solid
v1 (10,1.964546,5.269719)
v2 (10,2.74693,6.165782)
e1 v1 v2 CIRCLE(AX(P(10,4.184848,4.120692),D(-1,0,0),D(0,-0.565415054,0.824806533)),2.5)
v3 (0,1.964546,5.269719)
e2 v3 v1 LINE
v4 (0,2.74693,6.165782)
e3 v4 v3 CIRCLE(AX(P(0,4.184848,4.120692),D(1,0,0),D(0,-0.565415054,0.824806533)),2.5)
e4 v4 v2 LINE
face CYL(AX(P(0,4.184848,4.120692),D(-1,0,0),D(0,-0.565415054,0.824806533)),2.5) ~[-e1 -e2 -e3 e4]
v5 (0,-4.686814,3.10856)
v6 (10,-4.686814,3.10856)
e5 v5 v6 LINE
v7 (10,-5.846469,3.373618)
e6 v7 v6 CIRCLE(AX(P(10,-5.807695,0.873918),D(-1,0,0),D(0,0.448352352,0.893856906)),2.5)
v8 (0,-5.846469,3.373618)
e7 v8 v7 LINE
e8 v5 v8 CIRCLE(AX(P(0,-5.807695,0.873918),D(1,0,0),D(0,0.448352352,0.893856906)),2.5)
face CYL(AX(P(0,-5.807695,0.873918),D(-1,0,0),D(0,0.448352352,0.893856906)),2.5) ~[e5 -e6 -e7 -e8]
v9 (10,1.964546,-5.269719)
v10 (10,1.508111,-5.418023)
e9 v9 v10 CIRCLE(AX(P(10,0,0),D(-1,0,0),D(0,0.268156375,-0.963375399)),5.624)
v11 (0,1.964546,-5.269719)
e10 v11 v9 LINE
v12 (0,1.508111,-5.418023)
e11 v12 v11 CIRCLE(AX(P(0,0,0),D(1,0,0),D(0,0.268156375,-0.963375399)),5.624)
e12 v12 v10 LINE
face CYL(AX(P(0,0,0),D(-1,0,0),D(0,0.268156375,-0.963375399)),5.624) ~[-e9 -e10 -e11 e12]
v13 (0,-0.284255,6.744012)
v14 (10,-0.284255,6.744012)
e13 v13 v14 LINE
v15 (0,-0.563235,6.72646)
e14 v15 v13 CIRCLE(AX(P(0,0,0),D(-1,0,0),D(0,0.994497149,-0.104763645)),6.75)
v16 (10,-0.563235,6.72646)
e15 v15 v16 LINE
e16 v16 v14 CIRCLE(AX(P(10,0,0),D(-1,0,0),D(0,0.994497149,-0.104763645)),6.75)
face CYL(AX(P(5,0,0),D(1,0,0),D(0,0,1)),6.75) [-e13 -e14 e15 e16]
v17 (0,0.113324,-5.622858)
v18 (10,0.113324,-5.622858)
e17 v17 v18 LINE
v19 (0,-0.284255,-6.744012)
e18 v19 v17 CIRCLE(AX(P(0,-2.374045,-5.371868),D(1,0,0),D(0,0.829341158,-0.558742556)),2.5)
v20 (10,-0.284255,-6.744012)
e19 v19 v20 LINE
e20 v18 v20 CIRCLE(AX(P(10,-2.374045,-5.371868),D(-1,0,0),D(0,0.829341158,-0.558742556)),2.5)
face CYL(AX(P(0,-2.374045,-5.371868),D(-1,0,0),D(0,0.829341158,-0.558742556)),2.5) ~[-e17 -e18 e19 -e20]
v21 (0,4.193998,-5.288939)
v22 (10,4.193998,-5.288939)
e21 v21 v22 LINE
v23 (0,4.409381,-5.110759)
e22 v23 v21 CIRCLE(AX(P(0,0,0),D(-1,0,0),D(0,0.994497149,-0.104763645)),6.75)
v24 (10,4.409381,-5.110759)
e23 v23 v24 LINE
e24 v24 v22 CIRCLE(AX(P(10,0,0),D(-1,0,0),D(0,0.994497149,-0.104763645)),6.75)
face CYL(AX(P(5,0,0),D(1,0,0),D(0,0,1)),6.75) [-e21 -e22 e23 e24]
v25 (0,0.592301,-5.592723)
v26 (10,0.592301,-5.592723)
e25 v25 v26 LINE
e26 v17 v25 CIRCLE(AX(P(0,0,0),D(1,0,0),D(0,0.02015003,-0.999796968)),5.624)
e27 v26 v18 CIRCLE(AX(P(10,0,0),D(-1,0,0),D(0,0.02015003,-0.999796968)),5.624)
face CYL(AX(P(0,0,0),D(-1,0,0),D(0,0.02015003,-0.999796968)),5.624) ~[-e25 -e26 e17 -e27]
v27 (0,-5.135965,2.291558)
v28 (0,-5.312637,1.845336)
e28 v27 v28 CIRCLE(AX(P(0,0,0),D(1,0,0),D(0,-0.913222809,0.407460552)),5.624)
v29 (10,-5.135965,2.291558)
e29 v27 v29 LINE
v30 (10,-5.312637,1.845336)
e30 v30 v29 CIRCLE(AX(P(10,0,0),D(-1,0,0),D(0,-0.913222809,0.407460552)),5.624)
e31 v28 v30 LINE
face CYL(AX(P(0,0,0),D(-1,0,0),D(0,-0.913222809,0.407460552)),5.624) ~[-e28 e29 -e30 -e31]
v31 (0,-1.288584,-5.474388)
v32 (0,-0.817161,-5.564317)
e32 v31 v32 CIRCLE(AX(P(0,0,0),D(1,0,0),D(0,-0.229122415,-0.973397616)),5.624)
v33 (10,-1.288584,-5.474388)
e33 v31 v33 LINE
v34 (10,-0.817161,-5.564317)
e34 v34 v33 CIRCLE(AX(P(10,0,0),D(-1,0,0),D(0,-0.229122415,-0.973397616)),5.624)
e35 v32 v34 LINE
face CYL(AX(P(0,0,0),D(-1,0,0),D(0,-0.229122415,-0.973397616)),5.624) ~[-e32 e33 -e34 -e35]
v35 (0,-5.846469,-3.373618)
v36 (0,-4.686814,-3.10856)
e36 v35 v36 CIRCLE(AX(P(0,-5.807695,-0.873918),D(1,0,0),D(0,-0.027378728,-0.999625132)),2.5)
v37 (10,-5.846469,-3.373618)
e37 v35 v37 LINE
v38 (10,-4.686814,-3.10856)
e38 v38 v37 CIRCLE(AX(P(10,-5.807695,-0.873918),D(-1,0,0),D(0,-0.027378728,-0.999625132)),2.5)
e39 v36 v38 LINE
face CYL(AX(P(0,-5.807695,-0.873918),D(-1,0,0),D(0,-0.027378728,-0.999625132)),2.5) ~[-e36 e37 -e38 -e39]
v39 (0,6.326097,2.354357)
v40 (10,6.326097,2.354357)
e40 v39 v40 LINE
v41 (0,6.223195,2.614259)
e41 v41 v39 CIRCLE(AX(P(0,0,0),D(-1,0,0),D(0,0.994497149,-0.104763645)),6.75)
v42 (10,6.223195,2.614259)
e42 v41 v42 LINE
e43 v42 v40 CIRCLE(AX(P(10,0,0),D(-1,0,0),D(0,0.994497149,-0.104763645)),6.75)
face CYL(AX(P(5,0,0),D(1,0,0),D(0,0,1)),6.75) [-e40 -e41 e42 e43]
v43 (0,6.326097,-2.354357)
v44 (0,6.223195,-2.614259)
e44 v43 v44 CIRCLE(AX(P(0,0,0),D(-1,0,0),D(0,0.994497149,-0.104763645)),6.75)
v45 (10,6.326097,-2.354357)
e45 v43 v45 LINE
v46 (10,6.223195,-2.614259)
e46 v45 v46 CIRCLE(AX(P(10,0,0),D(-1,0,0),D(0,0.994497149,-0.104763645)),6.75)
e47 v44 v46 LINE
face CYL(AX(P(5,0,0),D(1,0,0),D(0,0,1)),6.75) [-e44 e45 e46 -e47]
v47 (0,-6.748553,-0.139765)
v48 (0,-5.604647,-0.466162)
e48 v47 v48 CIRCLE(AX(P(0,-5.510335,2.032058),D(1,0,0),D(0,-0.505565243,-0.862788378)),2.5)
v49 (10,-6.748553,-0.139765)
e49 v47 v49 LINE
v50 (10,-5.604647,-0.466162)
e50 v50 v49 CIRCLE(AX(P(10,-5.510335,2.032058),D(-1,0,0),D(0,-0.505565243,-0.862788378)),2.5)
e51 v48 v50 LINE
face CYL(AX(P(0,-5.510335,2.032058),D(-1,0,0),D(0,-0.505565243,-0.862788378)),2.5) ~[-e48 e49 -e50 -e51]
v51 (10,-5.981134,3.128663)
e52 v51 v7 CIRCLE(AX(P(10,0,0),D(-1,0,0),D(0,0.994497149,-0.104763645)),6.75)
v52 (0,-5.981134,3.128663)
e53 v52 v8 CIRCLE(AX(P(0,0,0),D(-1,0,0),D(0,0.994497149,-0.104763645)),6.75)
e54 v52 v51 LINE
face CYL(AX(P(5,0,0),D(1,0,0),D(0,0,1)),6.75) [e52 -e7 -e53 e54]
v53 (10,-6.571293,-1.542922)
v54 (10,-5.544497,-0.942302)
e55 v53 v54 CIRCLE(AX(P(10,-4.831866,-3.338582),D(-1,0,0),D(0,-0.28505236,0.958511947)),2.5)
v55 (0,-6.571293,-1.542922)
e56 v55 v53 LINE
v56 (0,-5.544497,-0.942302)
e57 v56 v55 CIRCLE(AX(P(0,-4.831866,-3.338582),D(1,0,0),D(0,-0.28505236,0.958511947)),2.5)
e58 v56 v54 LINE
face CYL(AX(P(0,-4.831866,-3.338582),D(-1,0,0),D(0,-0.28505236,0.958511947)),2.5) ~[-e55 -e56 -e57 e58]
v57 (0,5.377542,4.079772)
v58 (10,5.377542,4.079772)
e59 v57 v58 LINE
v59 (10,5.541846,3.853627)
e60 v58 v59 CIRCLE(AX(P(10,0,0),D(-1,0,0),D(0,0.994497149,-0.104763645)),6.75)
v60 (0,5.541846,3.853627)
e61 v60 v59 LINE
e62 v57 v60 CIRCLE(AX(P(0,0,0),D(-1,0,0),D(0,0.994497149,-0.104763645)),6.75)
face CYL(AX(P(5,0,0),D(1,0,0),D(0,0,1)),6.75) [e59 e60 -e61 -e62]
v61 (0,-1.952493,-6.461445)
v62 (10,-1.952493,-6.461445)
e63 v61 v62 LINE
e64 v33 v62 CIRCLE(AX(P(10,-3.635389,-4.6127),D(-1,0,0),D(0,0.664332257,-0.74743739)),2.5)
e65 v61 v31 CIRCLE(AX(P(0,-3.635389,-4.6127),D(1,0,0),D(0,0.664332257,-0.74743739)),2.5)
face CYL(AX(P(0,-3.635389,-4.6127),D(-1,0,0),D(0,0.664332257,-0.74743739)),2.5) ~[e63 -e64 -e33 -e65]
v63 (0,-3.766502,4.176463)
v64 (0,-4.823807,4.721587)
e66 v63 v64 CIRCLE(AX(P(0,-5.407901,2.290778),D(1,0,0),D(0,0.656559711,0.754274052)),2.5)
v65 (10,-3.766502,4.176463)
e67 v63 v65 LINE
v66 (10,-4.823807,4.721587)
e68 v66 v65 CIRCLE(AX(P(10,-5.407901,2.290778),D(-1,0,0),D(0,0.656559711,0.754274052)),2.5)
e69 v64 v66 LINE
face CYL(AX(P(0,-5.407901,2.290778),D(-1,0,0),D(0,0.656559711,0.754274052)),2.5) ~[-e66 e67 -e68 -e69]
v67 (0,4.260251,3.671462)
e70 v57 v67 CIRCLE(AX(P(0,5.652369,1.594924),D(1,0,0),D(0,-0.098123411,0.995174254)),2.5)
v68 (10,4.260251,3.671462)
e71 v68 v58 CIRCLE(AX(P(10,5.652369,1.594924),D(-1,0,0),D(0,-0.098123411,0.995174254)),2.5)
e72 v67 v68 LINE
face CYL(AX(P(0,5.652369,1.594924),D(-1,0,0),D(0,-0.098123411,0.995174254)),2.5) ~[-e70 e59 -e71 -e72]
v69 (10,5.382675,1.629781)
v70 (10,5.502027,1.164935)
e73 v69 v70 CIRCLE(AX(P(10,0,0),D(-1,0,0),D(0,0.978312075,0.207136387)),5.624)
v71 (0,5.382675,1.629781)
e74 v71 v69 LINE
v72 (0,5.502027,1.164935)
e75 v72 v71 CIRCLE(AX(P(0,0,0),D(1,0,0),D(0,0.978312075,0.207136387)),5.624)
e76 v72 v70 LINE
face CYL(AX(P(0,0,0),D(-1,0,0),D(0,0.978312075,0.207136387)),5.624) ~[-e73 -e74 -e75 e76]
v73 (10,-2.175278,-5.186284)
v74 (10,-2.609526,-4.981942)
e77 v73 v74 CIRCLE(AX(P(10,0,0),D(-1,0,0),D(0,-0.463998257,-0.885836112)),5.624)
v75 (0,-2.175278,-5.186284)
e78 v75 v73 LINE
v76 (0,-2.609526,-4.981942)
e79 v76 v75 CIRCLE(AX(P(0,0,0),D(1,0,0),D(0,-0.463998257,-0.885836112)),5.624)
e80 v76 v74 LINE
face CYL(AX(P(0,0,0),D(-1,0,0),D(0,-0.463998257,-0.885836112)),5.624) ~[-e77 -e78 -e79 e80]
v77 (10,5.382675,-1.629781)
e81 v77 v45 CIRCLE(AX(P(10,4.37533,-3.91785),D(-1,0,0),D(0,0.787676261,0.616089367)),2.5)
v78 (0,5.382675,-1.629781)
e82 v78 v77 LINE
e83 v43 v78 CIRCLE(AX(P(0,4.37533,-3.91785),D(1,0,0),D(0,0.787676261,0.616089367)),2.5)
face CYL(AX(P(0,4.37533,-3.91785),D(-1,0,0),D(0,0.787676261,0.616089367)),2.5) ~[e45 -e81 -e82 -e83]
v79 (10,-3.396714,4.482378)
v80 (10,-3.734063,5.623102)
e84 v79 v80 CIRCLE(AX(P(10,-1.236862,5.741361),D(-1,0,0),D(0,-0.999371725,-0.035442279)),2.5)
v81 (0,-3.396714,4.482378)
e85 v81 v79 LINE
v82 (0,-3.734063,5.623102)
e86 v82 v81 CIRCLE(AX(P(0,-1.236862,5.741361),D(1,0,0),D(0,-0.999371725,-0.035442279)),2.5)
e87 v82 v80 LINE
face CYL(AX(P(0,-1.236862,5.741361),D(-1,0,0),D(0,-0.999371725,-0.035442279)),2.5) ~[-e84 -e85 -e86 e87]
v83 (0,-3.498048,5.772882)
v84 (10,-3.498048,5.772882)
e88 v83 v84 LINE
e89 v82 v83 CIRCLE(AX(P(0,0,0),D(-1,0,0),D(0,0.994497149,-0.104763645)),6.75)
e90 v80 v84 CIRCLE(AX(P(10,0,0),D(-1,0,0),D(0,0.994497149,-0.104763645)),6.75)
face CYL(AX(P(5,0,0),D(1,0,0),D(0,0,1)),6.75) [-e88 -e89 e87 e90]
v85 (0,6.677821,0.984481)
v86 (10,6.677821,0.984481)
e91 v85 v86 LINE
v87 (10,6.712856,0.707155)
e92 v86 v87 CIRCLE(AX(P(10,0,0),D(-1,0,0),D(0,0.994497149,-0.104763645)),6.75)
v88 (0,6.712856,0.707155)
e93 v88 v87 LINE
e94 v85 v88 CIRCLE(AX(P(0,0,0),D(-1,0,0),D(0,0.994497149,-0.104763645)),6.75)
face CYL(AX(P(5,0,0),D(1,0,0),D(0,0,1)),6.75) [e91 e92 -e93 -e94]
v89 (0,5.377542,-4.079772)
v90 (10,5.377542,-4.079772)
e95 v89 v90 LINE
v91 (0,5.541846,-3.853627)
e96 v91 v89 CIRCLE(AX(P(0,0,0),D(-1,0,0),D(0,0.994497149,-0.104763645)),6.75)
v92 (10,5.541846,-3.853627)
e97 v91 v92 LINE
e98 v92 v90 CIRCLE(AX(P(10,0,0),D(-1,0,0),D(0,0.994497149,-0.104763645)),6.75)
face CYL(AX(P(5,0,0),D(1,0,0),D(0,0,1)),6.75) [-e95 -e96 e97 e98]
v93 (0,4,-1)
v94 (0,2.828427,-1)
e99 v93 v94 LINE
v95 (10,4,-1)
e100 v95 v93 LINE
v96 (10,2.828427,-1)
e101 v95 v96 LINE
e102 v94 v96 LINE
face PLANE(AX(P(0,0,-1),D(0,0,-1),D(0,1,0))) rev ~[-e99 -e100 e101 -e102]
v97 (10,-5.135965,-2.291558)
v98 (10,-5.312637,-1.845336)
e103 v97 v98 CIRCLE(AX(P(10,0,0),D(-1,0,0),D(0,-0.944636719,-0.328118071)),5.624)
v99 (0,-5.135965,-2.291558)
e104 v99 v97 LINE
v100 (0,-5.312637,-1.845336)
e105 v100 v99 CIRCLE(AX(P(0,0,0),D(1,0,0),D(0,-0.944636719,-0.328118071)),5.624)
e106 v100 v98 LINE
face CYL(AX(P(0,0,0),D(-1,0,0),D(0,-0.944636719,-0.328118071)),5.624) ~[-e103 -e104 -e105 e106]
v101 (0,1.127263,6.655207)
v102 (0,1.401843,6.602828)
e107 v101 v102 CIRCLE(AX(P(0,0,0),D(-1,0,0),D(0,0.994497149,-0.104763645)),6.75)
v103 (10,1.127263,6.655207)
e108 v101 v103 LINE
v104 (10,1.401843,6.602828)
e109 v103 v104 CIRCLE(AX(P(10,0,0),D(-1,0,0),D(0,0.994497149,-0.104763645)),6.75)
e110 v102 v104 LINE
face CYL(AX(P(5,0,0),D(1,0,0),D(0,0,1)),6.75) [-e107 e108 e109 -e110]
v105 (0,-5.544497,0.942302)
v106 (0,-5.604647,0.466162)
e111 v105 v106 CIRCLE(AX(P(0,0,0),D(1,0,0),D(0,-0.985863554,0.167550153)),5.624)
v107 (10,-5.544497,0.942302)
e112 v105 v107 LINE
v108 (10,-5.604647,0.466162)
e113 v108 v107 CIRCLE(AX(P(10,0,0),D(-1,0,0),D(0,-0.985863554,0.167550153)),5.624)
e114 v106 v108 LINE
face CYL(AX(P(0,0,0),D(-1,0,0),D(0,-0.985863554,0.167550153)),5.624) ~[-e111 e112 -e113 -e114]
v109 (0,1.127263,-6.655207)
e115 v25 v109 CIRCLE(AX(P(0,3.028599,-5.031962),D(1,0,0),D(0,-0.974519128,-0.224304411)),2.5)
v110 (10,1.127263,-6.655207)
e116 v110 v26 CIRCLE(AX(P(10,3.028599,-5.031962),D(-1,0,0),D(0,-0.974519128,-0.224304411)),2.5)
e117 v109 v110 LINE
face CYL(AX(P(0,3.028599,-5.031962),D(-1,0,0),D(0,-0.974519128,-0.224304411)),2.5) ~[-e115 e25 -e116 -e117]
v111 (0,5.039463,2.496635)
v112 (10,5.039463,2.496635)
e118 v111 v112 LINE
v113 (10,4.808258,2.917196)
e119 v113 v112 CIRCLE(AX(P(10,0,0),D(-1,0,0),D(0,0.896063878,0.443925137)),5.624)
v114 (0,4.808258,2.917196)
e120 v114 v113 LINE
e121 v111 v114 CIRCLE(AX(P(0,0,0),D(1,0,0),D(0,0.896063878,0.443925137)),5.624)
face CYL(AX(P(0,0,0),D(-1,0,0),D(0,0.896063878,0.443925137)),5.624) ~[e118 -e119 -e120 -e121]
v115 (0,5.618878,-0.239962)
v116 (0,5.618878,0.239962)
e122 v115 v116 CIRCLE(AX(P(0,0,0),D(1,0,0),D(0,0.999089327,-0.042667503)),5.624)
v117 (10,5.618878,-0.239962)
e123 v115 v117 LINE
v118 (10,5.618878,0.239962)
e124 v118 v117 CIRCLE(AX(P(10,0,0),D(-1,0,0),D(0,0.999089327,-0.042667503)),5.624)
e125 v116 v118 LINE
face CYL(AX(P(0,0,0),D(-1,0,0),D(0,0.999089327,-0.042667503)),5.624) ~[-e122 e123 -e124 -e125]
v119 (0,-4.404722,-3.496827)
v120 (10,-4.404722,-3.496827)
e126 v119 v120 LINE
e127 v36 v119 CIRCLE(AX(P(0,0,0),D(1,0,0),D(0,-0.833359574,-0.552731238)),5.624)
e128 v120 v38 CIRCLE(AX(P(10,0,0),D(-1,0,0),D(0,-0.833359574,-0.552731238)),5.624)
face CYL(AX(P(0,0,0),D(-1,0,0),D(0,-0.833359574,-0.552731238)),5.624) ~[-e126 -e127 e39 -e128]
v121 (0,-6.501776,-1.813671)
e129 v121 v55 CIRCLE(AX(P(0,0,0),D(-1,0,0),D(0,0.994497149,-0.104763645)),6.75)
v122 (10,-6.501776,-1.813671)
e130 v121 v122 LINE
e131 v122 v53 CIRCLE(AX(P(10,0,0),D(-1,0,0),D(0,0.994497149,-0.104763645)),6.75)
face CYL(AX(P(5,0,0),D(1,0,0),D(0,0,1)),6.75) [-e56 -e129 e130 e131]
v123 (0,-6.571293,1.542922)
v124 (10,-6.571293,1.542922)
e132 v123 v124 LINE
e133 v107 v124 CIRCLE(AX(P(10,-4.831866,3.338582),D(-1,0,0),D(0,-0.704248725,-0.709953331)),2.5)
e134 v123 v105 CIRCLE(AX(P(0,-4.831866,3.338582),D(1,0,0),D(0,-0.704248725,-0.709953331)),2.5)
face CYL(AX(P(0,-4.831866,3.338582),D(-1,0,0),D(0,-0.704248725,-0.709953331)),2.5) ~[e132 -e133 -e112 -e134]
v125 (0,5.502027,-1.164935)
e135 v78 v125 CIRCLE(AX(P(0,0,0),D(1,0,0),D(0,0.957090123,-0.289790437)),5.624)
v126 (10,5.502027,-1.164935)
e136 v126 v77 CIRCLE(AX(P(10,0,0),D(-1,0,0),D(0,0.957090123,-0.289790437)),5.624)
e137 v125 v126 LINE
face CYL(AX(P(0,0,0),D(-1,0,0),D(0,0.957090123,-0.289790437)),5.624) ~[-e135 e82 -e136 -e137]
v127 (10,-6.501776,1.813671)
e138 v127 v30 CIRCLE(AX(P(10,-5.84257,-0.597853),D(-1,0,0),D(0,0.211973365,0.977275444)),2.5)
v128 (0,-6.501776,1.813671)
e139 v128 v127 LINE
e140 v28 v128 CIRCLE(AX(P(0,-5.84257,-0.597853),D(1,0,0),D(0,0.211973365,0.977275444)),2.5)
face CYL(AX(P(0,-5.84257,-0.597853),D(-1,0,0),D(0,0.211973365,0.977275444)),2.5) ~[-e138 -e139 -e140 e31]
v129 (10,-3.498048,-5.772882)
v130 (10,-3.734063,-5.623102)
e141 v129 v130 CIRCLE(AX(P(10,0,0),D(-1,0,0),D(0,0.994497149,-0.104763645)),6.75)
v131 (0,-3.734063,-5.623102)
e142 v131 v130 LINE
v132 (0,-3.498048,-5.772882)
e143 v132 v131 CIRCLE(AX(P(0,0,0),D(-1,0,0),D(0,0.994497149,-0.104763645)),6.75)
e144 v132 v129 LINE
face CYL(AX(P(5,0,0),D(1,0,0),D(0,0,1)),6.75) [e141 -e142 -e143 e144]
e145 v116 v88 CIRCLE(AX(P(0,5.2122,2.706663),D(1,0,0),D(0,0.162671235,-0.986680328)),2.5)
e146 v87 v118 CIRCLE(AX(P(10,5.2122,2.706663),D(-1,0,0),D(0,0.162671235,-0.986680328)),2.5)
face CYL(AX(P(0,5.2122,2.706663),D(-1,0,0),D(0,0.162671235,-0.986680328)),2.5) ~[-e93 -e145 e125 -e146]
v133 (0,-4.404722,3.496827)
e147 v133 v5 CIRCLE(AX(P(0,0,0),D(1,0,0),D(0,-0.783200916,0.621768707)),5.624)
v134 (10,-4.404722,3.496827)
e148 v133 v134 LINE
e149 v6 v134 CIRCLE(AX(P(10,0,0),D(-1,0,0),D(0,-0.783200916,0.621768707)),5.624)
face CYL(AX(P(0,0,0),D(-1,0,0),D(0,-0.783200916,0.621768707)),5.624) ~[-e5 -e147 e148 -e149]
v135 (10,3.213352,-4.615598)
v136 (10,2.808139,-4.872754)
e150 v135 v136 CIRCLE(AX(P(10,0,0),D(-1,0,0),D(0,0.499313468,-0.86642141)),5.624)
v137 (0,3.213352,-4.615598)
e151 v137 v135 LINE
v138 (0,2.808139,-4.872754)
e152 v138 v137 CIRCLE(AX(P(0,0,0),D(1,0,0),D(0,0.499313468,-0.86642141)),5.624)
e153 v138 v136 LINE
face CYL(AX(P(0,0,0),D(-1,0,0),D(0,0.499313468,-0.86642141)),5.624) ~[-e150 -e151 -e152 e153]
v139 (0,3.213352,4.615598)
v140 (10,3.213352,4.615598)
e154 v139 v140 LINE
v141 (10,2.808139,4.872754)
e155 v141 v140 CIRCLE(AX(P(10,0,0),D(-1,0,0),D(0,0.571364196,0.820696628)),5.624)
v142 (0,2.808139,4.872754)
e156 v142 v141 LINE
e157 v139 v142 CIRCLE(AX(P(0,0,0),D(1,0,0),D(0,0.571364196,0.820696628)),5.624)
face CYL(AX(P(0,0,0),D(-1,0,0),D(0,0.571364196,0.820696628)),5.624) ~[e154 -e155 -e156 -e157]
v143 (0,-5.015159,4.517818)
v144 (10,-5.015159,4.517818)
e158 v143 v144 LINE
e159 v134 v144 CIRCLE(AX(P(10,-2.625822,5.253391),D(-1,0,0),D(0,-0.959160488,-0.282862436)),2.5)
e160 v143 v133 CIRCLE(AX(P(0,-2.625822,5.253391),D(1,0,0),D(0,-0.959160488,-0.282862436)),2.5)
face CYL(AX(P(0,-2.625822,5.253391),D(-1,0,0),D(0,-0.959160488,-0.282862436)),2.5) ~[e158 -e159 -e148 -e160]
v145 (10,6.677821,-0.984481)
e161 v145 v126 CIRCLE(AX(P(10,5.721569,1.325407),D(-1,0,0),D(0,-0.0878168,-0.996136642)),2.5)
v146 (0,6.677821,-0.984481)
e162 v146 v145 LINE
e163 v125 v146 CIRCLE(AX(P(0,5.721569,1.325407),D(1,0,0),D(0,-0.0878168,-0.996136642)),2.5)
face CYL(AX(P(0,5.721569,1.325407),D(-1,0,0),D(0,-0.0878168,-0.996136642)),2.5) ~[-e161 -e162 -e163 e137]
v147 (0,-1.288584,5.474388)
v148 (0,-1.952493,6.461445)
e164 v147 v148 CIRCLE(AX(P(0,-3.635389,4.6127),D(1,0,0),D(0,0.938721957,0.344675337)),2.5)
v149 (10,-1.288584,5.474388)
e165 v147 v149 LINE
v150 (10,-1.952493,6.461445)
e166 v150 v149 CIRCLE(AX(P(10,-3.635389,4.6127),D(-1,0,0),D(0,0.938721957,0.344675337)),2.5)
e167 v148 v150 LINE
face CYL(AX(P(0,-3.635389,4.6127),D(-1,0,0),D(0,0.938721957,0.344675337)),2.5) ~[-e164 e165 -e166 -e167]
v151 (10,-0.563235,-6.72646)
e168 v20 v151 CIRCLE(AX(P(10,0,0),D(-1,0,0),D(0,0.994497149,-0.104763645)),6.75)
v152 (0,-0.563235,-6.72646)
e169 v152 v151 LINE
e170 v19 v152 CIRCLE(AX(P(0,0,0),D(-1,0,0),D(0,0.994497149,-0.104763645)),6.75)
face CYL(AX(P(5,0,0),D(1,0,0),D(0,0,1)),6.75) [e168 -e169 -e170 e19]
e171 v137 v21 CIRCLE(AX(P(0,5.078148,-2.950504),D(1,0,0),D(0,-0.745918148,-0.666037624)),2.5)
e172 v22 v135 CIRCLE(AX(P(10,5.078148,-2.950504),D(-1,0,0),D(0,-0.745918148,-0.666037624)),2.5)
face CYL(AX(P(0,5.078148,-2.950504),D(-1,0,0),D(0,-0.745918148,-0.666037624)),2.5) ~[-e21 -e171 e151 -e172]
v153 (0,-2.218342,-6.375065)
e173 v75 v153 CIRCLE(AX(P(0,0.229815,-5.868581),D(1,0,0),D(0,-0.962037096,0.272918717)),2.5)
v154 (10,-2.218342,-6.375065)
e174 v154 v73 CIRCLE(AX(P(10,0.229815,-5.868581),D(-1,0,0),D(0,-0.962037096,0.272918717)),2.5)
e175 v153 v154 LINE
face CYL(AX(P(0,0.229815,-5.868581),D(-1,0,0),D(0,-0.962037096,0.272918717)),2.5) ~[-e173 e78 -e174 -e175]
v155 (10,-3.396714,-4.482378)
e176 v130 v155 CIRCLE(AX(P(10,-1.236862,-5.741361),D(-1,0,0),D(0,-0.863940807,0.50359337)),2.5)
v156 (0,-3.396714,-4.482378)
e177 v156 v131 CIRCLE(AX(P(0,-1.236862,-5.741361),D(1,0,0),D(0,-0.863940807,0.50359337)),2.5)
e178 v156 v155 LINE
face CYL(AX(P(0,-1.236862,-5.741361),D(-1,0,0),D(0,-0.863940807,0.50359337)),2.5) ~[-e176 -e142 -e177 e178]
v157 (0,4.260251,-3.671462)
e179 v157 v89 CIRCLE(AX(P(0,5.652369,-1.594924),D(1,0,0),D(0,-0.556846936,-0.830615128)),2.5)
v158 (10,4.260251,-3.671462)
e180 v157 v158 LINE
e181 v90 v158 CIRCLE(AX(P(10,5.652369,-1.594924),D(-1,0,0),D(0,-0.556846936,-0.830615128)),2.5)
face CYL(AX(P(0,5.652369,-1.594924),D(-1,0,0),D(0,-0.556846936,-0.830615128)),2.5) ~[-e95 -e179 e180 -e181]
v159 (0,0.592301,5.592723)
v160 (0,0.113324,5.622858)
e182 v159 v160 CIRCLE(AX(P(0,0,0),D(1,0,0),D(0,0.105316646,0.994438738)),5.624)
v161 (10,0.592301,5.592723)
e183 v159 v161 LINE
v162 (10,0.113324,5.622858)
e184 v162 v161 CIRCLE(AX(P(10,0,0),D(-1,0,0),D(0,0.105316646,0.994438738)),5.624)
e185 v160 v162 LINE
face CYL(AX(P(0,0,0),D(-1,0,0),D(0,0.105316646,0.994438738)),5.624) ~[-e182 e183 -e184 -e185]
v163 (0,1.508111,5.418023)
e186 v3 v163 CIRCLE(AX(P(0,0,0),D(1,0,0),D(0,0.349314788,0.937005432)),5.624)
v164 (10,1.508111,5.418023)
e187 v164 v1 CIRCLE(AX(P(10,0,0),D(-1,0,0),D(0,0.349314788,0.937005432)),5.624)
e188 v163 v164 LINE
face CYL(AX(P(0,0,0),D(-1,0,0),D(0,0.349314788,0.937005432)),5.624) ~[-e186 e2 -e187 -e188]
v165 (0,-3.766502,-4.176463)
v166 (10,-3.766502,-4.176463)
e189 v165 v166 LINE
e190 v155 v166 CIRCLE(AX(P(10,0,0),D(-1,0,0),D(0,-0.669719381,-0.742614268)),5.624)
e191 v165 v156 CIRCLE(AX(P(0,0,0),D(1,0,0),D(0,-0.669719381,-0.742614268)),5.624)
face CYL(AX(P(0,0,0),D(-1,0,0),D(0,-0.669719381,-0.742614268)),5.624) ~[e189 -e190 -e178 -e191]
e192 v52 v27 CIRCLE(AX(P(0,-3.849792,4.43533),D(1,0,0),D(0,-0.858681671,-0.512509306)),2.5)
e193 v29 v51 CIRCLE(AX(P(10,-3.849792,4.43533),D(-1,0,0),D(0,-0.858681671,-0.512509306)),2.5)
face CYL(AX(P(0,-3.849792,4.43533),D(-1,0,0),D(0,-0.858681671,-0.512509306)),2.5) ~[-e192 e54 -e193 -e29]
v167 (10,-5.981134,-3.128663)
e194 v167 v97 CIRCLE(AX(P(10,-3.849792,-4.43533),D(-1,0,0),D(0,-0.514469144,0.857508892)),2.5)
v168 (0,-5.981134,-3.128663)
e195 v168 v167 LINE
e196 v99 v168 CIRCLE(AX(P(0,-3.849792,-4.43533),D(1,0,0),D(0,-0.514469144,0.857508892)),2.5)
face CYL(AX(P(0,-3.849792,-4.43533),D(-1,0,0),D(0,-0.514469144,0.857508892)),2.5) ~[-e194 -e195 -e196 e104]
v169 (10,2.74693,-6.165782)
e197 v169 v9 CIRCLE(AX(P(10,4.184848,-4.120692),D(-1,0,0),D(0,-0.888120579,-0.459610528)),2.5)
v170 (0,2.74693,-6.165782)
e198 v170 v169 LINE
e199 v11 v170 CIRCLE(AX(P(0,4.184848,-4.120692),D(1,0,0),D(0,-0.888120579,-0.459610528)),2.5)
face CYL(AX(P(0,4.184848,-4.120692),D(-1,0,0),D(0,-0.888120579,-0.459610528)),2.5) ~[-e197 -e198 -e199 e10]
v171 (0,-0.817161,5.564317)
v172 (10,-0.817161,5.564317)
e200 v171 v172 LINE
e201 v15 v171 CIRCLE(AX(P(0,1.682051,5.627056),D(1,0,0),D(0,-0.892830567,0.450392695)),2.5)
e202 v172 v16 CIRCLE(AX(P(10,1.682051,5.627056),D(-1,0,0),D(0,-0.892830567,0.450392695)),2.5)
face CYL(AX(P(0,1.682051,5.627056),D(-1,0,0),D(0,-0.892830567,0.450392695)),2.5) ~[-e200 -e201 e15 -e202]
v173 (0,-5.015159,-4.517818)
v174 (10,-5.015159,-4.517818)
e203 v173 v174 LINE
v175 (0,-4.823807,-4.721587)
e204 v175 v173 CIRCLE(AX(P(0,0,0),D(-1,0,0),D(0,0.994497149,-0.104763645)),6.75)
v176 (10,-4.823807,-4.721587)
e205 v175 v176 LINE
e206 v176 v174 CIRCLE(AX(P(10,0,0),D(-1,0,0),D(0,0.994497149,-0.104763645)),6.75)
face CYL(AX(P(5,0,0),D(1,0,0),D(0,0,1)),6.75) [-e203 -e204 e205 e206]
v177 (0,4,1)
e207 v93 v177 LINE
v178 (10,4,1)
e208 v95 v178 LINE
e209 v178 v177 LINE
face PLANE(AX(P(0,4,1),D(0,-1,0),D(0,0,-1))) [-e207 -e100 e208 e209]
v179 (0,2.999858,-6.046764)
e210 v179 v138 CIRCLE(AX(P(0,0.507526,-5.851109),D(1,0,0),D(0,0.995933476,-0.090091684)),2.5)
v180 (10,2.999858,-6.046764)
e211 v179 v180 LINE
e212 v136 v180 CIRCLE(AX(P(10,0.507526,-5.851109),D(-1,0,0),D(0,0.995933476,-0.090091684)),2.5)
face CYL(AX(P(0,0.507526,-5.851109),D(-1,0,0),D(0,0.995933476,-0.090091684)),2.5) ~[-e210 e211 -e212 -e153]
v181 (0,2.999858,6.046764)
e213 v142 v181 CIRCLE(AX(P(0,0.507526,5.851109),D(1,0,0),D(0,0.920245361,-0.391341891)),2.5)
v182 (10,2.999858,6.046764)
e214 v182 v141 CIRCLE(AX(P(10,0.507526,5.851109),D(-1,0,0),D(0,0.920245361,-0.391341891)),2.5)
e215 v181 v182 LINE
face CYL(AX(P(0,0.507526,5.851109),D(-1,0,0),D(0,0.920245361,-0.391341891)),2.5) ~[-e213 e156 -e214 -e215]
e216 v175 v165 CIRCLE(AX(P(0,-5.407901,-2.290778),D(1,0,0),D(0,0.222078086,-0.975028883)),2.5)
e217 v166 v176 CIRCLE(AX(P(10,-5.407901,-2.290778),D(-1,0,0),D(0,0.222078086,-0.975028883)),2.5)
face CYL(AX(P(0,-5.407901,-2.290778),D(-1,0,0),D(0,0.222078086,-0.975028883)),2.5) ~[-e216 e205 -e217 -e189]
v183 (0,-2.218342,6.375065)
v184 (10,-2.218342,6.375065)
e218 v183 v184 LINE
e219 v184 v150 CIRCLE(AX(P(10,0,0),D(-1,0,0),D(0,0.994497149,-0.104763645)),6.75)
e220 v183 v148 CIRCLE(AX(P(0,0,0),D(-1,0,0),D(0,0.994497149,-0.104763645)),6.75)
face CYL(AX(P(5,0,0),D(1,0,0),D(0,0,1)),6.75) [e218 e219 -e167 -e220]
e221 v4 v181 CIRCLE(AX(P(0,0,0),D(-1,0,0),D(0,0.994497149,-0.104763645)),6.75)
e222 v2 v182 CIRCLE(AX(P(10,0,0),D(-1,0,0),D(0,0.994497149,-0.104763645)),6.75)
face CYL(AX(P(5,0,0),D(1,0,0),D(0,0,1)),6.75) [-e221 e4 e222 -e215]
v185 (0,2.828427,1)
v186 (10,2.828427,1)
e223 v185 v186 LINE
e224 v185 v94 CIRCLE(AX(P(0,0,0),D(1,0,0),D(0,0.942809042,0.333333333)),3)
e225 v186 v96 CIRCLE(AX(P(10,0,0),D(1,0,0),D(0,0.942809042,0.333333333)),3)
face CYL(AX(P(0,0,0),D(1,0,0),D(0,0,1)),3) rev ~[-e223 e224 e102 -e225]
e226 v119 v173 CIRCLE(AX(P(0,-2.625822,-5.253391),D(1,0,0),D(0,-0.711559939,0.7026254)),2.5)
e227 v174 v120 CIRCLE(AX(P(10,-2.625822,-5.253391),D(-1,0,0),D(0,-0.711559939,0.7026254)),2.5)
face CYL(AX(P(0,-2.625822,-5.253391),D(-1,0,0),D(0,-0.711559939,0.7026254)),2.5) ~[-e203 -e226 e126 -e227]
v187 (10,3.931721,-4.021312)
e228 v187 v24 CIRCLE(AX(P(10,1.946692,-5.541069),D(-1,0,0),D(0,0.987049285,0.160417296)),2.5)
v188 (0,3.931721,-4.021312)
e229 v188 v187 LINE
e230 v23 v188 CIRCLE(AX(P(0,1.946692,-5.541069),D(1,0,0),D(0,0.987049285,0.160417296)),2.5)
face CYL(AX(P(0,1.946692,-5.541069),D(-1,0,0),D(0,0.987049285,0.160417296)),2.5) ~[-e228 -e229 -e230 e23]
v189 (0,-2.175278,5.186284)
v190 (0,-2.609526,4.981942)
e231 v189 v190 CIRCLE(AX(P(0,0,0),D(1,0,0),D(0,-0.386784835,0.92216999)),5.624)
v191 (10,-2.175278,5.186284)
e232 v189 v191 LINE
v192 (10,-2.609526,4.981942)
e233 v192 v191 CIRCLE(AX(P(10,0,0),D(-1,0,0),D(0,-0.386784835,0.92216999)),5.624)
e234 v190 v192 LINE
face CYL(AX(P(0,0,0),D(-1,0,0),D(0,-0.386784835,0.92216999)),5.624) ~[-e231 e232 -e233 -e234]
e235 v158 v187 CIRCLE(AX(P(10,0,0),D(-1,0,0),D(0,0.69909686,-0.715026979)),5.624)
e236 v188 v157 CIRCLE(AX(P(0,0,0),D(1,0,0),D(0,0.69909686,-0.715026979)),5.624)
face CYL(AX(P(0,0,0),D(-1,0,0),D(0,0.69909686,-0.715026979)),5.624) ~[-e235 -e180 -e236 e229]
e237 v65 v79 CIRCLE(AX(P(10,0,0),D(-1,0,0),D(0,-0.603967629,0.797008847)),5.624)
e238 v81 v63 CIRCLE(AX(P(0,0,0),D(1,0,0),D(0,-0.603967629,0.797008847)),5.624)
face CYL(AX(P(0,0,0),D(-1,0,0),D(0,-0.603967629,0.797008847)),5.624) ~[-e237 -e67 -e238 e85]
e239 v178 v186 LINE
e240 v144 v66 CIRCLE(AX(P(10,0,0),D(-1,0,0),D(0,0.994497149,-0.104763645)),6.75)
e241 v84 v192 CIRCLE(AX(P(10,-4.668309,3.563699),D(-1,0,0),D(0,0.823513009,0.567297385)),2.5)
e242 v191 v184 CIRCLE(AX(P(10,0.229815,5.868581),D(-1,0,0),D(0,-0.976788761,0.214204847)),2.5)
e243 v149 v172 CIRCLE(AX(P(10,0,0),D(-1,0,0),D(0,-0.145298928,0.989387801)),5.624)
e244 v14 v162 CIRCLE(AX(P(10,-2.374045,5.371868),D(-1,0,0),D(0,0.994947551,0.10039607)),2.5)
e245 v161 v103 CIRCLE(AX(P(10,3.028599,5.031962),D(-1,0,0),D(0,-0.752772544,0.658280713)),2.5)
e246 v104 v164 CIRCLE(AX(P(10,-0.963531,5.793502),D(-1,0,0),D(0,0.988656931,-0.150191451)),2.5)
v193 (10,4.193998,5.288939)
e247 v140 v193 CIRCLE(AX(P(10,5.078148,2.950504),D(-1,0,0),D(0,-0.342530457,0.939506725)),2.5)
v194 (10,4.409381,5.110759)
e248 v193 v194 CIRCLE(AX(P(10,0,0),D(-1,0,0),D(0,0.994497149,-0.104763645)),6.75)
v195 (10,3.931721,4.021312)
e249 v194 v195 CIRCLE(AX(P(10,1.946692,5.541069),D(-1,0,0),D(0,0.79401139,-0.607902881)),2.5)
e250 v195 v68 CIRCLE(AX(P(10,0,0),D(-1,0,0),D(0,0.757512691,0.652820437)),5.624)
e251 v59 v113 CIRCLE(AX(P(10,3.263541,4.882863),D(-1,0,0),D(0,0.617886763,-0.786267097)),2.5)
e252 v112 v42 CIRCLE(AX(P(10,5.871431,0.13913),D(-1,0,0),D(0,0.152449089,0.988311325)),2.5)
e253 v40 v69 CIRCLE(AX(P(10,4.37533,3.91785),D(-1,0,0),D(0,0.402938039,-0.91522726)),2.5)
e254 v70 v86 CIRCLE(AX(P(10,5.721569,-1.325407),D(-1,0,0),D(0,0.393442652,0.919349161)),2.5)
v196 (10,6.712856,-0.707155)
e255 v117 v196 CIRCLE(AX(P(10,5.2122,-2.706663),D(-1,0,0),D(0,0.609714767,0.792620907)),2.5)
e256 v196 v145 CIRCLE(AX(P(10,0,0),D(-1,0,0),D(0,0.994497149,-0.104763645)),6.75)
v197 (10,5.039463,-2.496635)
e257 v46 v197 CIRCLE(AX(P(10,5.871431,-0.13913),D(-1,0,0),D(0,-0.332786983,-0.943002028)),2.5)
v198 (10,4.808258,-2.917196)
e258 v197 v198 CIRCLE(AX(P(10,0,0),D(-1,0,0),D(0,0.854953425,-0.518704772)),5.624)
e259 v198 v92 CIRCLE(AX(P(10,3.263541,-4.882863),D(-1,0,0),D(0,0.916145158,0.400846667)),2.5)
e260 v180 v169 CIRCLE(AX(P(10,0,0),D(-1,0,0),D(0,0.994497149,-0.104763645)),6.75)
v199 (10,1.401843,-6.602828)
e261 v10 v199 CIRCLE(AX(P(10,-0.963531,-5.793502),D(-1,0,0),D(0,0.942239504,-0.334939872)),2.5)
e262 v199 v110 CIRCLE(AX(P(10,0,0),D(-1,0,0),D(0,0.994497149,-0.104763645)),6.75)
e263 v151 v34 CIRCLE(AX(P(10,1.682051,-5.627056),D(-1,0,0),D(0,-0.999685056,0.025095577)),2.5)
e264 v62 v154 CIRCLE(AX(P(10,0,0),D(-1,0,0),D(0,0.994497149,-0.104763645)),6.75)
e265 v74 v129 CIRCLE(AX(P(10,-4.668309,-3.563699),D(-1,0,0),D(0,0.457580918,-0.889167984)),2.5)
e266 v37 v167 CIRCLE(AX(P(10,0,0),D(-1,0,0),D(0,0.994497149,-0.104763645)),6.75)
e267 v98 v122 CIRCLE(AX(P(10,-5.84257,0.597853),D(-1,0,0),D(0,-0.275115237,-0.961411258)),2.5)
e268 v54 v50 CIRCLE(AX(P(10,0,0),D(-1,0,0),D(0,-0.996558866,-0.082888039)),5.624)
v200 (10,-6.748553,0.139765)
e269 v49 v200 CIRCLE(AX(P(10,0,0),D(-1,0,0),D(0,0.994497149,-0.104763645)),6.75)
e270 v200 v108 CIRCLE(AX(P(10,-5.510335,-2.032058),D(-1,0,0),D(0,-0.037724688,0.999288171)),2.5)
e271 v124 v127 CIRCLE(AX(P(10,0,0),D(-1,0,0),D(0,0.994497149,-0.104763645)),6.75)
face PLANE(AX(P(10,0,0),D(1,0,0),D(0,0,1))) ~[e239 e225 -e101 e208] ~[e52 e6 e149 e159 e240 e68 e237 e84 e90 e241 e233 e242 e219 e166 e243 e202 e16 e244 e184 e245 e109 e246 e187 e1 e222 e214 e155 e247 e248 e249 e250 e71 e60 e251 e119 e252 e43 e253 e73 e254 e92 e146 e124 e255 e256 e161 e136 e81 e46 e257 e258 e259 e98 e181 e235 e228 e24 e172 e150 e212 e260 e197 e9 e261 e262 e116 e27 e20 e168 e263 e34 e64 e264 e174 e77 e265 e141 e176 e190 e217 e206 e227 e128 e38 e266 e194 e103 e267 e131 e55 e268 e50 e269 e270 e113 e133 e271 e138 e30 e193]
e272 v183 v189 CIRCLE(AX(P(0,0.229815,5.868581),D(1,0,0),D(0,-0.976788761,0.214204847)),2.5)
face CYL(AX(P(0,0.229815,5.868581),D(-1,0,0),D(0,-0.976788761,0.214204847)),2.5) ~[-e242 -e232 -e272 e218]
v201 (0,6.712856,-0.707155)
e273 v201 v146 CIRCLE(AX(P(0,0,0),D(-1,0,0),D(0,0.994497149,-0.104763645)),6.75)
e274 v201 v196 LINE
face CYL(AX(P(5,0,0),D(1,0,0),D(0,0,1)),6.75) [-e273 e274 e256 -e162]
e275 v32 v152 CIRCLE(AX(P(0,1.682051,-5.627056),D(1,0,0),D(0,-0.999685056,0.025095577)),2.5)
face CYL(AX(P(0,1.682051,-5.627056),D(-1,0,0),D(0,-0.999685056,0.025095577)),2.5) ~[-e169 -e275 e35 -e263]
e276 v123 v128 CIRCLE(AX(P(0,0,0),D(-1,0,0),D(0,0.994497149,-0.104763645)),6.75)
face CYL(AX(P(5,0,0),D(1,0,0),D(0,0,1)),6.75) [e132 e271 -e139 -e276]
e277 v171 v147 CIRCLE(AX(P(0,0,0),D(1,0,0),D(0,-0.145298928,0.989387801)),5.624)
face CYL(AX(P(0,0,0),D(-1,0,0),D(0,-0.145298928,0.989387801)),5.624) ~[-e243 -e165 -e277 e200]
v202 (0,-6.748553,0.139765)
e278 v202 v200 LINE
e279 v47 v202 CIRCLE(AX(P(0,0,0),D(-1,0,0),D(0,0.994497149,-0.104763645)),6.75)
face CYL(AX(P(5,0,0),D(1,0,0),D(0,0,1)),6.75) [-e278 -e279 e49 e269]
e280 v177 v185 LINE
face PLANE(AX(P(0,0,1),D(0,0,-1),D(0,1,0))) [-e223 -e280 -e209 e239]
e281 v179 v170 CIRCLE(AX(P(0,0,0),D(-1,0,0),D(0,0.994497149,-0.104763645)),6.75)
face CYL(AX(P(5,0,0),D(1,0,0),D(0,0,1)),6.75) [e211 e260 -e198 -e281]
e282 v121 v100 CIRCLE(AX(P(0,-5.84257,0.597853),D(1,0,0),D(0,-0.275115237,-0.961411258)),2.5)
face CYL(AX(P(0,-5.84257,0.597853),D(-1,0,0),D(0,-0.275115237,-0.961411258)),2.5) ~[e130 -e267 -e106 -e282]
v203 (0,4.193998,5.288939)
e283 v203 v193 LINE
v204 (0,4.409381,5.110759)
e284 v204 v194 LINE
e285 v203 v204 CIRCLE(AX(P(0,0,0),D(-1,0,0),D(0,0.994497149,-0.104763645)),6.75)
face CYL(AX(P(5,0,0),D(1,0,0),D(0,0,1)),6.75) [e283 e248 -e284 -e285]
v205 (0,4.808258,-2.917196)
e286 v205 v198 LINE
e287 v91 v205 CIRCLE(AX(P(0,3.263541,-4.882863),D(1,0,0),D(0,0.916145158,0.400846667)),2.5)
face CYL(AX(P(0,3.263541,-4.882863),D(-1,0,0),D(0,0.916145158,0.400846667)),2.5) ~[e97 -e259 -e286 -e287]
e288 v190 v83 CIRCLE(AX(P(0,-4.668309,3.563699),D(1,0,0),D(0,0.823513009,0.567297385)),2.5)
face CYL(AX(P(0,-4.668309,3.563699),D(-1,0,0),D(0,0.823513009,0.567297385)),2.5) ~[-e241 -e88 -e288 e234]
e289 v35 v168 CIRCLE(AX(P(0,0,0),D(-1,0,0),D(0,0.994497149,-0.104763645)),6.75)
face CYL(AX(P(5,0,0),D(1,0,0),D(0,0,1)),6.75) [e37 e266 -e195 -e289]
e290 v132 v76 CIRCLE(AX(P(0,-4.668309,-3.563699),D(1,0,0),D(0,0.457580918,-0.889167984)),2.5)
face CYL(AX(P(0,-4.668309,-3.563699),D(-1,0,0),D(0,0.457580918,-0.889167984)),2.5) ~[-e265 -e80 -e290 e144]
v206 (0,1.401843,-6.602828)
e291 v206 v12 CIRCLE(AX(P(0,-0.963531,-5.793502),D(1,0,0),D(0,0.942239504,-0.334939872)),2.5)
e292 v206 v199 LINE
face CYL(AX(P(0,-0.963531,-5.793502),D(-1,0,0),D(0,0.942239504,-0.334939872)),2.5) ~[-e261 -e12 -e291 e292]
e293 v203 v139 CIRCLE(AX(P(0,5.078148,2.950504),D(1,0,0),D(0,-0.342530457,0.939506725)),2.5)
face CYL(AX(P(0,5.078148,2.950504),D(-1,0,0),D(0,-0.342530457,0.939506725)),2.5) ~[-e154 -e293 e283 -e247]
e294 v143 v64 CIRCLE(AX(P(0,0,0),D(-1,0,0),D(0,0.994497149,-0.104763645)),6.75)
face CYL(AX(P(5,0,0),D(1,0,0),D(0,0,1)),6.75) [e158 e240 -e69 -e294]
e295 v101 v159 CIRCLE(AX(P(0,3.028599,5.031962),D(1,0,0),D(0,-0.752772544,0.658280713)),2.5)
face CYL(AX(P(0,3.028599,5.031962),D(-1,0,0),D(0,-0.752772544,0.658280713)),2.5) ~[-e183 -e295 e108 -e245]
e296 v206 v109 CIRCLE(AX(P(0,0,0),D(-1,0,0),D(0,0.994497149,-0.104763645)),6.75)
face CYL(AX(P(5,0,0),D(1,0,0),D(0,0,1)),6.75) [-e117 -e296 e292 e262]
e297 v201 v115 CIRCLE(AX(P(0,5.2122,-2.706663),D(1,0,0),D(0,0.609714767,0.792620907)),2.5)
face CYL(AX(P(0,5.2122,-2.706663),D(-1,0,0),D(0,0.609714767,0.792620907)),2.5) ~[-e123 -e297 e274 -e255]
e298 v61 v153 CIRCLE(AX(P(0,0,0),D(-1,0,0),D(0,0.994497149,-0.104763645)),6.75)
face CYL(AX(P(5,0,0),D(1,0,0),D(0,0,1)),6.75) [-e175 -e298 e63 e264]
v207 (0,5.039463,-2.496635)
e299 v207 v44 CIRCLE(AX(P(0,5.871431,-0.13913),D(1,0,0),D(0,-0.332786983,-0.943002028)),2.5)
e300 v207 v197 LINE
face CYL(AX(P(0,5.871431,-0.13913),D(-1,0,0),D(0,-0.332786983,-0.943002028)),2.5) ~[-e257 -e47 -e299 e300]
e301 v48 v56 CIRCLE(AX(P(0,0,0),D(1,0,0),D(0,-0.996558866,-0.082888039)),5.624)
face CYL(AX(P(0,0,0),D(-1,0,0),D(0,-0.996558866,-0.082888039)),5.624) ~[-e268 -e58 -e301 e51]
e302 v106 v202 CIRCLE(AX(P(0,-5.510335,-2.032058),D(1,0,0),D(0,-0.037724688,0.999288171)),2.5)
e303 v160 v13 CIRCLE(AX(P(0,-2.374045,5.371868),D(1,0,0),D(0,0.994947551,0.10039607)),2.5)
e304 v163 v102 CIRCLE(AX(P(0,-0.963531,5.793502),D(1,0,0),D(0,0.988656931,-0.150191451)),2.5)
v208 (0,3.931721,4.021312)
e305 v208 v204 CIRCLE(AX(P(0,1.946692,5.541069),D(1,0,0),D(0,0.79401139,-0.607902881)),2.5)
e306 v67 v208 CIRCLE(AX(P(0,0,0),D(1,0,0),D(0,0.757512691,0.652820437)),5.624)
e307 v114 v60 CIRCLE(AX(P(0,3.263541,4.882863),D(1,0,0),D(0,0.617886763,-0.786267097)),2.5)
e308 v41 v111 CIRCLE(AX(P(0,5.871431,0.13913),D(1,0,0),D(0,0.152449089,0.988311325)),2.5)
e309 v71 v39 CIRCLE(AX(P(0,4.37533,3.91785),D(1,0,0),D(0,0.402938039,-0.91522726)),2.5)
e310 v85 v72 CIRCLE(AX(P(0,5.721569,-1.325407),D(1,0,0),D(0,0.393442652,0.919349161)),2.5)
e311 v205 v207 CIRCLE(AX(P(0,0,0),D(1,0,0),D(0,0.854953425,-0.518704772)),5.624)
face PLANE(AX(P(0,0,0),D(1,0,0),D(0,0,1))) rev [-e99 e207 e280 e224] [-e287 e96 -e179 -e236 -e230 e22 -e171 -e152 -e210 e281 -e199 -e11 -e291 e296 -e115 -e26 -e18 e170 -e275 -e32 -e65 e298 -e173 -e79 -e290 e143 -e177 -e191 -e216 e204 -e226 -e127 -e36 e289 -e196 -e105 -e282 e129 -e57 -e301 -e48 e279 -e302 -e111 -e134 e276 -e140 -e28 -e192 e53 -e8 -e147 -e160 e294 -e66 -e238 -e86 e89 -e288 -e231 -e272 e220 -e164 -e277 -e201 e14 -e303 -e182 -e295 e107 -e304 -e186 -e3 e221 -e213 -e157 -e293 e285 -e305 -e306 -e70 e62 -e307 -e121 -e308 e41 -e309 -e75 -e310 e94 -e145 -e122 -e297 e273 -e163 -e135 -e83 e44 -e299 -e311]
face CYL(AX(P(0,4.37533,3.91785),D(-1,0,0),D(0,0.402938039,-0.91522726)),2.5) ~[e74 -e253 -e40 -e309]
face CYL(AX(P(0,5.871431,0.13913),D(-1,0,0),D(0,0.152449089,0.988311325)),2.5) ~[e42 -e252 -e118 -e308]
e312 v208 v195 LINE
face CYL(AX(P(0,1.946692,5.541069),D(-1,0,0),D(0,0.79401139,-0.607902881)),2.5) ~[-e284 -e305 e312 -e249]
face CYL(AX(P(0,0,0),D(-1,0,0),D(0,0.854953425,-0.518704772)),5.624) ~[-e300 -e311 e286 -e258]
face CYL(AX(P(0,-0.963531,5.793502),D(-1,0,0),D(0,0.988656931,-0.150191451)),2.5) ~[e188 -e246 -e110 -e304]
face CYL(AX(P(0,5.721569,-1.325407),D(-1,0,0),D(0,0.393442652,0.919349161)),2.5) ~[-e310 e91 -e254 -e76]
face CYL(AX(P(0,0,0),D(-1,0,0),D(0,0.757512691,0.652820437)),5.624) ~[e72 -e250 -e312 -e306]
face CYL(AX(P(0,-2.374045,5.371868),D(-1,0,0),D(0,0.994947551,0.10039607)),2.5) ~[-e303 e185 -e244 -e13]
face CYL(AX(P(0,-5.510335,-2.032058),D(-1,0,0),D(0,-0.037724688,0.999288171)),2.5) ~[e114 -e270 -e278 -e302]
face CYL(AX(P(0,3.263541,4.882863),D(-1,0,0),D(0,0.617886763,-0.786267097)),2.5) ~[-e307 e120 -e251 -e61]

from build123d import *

# Parameters (mm, degrees)
BASPROSKE_W     = 10
BASPROSKE_H     = 6.75
TOOTHCUT_DEPTH  = 14.824796563
TEETHCUTS_COUNT = 25
TEETHCUTS_ANGLE = 345.6
BORSKE_R        = 3
BORE_DEPTH      = 50.0000508
KEYSKE_W        = 2
KEYSKE_H        = 4
KEYWAY_DEPTH    = 50.0000508


with BuildPart() as part:
    # BasProSke → Base-Revolve (revolve)
    with BuildSketch(Plane(origin=(0, 0, 0), x_dir=(1, 0, 0), z_dir=(0, 1, 0)), mode=Mode.PRIVATE) as base_revolve_sk:
        with Locations((5, 3.375)):
            Rectangle(BASPROSKE_W, BASPROSKE_H)
    revolve(base_revolve_sk.sketch.rotate(Axis((-10, 0, 0), (1, 0, 0)), 180), axis=Axis((-10, 0, 0), (1, 0, 0)))

    # TooCutSke → ToothCut (cut, through all)
    with BuildSketch(Plane(origin=(0, 0, 0), x_dir=(0, 0, -1), z_dir=(1, 0, 0))):
        with BuildLine():
            ThreePointArc((0.239962014, 5.618878378), (0, 5.624), (-0.239962014, 5.618878378))
            ThreePointArc((-0.239962014, 5.618878378), (-0.413411591, 6.207689485), (-0.725110563, 6.736487203))
            ThreePointArc((-0.725110563, 6.736487203), (0, 6.7754), (0.725110563, 6.736487203))
            ThreePointArc((0.725110563, 6.736487203), (0.413411591, 6.207689485), (0.239962014, 5.618878378))
        make_face()
    toothcut = extrude(amount=TOOTHCUT_DEPTH, mode=Mode.SUBTRACT)

    # TeethCuts: ToothCut ×25 about axis
    teethcuts_axis = Axis((-10, 0, 0), (1, 0, 0))
    for i in range(1, TEETHCUTS_COUNT):
        add(toothcut.rotate(teethcuts_axis, i * TEETHCUTS_ANGLE / (TEETHCUTS_COUNT - 1)), mode=Mode.SUBTRACT)

    # BorSke → Bore (cut, symmetric)
    with BuildSketch(Plane(origin=(0, 0, 0), x_dir=(0, 0, -1), z_dir=(1, 0, 0))):
        with Locations(Location((0, 0, 0), (0, 0, 180))):
            Circle(BORSKE_R)
    extrude(amount=BORE_DEPTH, both=True, mode=Mode.SUBTRACT)

    # KeySke → Keyway (cut, symmetric)
    with BuildSketch(Plane(origin=(0, 0, 0), x_dir=(0, 0, -1), z_dir=(1, 0, 0))):
        with Locations((0, 2)):
            Rectangle(KEYSKE_W, KEYSKE_H)
    extrude(amount=KEYWAY_DEPTH, both=True, mode=Mode.SUBTRACT)


solid = part.part
